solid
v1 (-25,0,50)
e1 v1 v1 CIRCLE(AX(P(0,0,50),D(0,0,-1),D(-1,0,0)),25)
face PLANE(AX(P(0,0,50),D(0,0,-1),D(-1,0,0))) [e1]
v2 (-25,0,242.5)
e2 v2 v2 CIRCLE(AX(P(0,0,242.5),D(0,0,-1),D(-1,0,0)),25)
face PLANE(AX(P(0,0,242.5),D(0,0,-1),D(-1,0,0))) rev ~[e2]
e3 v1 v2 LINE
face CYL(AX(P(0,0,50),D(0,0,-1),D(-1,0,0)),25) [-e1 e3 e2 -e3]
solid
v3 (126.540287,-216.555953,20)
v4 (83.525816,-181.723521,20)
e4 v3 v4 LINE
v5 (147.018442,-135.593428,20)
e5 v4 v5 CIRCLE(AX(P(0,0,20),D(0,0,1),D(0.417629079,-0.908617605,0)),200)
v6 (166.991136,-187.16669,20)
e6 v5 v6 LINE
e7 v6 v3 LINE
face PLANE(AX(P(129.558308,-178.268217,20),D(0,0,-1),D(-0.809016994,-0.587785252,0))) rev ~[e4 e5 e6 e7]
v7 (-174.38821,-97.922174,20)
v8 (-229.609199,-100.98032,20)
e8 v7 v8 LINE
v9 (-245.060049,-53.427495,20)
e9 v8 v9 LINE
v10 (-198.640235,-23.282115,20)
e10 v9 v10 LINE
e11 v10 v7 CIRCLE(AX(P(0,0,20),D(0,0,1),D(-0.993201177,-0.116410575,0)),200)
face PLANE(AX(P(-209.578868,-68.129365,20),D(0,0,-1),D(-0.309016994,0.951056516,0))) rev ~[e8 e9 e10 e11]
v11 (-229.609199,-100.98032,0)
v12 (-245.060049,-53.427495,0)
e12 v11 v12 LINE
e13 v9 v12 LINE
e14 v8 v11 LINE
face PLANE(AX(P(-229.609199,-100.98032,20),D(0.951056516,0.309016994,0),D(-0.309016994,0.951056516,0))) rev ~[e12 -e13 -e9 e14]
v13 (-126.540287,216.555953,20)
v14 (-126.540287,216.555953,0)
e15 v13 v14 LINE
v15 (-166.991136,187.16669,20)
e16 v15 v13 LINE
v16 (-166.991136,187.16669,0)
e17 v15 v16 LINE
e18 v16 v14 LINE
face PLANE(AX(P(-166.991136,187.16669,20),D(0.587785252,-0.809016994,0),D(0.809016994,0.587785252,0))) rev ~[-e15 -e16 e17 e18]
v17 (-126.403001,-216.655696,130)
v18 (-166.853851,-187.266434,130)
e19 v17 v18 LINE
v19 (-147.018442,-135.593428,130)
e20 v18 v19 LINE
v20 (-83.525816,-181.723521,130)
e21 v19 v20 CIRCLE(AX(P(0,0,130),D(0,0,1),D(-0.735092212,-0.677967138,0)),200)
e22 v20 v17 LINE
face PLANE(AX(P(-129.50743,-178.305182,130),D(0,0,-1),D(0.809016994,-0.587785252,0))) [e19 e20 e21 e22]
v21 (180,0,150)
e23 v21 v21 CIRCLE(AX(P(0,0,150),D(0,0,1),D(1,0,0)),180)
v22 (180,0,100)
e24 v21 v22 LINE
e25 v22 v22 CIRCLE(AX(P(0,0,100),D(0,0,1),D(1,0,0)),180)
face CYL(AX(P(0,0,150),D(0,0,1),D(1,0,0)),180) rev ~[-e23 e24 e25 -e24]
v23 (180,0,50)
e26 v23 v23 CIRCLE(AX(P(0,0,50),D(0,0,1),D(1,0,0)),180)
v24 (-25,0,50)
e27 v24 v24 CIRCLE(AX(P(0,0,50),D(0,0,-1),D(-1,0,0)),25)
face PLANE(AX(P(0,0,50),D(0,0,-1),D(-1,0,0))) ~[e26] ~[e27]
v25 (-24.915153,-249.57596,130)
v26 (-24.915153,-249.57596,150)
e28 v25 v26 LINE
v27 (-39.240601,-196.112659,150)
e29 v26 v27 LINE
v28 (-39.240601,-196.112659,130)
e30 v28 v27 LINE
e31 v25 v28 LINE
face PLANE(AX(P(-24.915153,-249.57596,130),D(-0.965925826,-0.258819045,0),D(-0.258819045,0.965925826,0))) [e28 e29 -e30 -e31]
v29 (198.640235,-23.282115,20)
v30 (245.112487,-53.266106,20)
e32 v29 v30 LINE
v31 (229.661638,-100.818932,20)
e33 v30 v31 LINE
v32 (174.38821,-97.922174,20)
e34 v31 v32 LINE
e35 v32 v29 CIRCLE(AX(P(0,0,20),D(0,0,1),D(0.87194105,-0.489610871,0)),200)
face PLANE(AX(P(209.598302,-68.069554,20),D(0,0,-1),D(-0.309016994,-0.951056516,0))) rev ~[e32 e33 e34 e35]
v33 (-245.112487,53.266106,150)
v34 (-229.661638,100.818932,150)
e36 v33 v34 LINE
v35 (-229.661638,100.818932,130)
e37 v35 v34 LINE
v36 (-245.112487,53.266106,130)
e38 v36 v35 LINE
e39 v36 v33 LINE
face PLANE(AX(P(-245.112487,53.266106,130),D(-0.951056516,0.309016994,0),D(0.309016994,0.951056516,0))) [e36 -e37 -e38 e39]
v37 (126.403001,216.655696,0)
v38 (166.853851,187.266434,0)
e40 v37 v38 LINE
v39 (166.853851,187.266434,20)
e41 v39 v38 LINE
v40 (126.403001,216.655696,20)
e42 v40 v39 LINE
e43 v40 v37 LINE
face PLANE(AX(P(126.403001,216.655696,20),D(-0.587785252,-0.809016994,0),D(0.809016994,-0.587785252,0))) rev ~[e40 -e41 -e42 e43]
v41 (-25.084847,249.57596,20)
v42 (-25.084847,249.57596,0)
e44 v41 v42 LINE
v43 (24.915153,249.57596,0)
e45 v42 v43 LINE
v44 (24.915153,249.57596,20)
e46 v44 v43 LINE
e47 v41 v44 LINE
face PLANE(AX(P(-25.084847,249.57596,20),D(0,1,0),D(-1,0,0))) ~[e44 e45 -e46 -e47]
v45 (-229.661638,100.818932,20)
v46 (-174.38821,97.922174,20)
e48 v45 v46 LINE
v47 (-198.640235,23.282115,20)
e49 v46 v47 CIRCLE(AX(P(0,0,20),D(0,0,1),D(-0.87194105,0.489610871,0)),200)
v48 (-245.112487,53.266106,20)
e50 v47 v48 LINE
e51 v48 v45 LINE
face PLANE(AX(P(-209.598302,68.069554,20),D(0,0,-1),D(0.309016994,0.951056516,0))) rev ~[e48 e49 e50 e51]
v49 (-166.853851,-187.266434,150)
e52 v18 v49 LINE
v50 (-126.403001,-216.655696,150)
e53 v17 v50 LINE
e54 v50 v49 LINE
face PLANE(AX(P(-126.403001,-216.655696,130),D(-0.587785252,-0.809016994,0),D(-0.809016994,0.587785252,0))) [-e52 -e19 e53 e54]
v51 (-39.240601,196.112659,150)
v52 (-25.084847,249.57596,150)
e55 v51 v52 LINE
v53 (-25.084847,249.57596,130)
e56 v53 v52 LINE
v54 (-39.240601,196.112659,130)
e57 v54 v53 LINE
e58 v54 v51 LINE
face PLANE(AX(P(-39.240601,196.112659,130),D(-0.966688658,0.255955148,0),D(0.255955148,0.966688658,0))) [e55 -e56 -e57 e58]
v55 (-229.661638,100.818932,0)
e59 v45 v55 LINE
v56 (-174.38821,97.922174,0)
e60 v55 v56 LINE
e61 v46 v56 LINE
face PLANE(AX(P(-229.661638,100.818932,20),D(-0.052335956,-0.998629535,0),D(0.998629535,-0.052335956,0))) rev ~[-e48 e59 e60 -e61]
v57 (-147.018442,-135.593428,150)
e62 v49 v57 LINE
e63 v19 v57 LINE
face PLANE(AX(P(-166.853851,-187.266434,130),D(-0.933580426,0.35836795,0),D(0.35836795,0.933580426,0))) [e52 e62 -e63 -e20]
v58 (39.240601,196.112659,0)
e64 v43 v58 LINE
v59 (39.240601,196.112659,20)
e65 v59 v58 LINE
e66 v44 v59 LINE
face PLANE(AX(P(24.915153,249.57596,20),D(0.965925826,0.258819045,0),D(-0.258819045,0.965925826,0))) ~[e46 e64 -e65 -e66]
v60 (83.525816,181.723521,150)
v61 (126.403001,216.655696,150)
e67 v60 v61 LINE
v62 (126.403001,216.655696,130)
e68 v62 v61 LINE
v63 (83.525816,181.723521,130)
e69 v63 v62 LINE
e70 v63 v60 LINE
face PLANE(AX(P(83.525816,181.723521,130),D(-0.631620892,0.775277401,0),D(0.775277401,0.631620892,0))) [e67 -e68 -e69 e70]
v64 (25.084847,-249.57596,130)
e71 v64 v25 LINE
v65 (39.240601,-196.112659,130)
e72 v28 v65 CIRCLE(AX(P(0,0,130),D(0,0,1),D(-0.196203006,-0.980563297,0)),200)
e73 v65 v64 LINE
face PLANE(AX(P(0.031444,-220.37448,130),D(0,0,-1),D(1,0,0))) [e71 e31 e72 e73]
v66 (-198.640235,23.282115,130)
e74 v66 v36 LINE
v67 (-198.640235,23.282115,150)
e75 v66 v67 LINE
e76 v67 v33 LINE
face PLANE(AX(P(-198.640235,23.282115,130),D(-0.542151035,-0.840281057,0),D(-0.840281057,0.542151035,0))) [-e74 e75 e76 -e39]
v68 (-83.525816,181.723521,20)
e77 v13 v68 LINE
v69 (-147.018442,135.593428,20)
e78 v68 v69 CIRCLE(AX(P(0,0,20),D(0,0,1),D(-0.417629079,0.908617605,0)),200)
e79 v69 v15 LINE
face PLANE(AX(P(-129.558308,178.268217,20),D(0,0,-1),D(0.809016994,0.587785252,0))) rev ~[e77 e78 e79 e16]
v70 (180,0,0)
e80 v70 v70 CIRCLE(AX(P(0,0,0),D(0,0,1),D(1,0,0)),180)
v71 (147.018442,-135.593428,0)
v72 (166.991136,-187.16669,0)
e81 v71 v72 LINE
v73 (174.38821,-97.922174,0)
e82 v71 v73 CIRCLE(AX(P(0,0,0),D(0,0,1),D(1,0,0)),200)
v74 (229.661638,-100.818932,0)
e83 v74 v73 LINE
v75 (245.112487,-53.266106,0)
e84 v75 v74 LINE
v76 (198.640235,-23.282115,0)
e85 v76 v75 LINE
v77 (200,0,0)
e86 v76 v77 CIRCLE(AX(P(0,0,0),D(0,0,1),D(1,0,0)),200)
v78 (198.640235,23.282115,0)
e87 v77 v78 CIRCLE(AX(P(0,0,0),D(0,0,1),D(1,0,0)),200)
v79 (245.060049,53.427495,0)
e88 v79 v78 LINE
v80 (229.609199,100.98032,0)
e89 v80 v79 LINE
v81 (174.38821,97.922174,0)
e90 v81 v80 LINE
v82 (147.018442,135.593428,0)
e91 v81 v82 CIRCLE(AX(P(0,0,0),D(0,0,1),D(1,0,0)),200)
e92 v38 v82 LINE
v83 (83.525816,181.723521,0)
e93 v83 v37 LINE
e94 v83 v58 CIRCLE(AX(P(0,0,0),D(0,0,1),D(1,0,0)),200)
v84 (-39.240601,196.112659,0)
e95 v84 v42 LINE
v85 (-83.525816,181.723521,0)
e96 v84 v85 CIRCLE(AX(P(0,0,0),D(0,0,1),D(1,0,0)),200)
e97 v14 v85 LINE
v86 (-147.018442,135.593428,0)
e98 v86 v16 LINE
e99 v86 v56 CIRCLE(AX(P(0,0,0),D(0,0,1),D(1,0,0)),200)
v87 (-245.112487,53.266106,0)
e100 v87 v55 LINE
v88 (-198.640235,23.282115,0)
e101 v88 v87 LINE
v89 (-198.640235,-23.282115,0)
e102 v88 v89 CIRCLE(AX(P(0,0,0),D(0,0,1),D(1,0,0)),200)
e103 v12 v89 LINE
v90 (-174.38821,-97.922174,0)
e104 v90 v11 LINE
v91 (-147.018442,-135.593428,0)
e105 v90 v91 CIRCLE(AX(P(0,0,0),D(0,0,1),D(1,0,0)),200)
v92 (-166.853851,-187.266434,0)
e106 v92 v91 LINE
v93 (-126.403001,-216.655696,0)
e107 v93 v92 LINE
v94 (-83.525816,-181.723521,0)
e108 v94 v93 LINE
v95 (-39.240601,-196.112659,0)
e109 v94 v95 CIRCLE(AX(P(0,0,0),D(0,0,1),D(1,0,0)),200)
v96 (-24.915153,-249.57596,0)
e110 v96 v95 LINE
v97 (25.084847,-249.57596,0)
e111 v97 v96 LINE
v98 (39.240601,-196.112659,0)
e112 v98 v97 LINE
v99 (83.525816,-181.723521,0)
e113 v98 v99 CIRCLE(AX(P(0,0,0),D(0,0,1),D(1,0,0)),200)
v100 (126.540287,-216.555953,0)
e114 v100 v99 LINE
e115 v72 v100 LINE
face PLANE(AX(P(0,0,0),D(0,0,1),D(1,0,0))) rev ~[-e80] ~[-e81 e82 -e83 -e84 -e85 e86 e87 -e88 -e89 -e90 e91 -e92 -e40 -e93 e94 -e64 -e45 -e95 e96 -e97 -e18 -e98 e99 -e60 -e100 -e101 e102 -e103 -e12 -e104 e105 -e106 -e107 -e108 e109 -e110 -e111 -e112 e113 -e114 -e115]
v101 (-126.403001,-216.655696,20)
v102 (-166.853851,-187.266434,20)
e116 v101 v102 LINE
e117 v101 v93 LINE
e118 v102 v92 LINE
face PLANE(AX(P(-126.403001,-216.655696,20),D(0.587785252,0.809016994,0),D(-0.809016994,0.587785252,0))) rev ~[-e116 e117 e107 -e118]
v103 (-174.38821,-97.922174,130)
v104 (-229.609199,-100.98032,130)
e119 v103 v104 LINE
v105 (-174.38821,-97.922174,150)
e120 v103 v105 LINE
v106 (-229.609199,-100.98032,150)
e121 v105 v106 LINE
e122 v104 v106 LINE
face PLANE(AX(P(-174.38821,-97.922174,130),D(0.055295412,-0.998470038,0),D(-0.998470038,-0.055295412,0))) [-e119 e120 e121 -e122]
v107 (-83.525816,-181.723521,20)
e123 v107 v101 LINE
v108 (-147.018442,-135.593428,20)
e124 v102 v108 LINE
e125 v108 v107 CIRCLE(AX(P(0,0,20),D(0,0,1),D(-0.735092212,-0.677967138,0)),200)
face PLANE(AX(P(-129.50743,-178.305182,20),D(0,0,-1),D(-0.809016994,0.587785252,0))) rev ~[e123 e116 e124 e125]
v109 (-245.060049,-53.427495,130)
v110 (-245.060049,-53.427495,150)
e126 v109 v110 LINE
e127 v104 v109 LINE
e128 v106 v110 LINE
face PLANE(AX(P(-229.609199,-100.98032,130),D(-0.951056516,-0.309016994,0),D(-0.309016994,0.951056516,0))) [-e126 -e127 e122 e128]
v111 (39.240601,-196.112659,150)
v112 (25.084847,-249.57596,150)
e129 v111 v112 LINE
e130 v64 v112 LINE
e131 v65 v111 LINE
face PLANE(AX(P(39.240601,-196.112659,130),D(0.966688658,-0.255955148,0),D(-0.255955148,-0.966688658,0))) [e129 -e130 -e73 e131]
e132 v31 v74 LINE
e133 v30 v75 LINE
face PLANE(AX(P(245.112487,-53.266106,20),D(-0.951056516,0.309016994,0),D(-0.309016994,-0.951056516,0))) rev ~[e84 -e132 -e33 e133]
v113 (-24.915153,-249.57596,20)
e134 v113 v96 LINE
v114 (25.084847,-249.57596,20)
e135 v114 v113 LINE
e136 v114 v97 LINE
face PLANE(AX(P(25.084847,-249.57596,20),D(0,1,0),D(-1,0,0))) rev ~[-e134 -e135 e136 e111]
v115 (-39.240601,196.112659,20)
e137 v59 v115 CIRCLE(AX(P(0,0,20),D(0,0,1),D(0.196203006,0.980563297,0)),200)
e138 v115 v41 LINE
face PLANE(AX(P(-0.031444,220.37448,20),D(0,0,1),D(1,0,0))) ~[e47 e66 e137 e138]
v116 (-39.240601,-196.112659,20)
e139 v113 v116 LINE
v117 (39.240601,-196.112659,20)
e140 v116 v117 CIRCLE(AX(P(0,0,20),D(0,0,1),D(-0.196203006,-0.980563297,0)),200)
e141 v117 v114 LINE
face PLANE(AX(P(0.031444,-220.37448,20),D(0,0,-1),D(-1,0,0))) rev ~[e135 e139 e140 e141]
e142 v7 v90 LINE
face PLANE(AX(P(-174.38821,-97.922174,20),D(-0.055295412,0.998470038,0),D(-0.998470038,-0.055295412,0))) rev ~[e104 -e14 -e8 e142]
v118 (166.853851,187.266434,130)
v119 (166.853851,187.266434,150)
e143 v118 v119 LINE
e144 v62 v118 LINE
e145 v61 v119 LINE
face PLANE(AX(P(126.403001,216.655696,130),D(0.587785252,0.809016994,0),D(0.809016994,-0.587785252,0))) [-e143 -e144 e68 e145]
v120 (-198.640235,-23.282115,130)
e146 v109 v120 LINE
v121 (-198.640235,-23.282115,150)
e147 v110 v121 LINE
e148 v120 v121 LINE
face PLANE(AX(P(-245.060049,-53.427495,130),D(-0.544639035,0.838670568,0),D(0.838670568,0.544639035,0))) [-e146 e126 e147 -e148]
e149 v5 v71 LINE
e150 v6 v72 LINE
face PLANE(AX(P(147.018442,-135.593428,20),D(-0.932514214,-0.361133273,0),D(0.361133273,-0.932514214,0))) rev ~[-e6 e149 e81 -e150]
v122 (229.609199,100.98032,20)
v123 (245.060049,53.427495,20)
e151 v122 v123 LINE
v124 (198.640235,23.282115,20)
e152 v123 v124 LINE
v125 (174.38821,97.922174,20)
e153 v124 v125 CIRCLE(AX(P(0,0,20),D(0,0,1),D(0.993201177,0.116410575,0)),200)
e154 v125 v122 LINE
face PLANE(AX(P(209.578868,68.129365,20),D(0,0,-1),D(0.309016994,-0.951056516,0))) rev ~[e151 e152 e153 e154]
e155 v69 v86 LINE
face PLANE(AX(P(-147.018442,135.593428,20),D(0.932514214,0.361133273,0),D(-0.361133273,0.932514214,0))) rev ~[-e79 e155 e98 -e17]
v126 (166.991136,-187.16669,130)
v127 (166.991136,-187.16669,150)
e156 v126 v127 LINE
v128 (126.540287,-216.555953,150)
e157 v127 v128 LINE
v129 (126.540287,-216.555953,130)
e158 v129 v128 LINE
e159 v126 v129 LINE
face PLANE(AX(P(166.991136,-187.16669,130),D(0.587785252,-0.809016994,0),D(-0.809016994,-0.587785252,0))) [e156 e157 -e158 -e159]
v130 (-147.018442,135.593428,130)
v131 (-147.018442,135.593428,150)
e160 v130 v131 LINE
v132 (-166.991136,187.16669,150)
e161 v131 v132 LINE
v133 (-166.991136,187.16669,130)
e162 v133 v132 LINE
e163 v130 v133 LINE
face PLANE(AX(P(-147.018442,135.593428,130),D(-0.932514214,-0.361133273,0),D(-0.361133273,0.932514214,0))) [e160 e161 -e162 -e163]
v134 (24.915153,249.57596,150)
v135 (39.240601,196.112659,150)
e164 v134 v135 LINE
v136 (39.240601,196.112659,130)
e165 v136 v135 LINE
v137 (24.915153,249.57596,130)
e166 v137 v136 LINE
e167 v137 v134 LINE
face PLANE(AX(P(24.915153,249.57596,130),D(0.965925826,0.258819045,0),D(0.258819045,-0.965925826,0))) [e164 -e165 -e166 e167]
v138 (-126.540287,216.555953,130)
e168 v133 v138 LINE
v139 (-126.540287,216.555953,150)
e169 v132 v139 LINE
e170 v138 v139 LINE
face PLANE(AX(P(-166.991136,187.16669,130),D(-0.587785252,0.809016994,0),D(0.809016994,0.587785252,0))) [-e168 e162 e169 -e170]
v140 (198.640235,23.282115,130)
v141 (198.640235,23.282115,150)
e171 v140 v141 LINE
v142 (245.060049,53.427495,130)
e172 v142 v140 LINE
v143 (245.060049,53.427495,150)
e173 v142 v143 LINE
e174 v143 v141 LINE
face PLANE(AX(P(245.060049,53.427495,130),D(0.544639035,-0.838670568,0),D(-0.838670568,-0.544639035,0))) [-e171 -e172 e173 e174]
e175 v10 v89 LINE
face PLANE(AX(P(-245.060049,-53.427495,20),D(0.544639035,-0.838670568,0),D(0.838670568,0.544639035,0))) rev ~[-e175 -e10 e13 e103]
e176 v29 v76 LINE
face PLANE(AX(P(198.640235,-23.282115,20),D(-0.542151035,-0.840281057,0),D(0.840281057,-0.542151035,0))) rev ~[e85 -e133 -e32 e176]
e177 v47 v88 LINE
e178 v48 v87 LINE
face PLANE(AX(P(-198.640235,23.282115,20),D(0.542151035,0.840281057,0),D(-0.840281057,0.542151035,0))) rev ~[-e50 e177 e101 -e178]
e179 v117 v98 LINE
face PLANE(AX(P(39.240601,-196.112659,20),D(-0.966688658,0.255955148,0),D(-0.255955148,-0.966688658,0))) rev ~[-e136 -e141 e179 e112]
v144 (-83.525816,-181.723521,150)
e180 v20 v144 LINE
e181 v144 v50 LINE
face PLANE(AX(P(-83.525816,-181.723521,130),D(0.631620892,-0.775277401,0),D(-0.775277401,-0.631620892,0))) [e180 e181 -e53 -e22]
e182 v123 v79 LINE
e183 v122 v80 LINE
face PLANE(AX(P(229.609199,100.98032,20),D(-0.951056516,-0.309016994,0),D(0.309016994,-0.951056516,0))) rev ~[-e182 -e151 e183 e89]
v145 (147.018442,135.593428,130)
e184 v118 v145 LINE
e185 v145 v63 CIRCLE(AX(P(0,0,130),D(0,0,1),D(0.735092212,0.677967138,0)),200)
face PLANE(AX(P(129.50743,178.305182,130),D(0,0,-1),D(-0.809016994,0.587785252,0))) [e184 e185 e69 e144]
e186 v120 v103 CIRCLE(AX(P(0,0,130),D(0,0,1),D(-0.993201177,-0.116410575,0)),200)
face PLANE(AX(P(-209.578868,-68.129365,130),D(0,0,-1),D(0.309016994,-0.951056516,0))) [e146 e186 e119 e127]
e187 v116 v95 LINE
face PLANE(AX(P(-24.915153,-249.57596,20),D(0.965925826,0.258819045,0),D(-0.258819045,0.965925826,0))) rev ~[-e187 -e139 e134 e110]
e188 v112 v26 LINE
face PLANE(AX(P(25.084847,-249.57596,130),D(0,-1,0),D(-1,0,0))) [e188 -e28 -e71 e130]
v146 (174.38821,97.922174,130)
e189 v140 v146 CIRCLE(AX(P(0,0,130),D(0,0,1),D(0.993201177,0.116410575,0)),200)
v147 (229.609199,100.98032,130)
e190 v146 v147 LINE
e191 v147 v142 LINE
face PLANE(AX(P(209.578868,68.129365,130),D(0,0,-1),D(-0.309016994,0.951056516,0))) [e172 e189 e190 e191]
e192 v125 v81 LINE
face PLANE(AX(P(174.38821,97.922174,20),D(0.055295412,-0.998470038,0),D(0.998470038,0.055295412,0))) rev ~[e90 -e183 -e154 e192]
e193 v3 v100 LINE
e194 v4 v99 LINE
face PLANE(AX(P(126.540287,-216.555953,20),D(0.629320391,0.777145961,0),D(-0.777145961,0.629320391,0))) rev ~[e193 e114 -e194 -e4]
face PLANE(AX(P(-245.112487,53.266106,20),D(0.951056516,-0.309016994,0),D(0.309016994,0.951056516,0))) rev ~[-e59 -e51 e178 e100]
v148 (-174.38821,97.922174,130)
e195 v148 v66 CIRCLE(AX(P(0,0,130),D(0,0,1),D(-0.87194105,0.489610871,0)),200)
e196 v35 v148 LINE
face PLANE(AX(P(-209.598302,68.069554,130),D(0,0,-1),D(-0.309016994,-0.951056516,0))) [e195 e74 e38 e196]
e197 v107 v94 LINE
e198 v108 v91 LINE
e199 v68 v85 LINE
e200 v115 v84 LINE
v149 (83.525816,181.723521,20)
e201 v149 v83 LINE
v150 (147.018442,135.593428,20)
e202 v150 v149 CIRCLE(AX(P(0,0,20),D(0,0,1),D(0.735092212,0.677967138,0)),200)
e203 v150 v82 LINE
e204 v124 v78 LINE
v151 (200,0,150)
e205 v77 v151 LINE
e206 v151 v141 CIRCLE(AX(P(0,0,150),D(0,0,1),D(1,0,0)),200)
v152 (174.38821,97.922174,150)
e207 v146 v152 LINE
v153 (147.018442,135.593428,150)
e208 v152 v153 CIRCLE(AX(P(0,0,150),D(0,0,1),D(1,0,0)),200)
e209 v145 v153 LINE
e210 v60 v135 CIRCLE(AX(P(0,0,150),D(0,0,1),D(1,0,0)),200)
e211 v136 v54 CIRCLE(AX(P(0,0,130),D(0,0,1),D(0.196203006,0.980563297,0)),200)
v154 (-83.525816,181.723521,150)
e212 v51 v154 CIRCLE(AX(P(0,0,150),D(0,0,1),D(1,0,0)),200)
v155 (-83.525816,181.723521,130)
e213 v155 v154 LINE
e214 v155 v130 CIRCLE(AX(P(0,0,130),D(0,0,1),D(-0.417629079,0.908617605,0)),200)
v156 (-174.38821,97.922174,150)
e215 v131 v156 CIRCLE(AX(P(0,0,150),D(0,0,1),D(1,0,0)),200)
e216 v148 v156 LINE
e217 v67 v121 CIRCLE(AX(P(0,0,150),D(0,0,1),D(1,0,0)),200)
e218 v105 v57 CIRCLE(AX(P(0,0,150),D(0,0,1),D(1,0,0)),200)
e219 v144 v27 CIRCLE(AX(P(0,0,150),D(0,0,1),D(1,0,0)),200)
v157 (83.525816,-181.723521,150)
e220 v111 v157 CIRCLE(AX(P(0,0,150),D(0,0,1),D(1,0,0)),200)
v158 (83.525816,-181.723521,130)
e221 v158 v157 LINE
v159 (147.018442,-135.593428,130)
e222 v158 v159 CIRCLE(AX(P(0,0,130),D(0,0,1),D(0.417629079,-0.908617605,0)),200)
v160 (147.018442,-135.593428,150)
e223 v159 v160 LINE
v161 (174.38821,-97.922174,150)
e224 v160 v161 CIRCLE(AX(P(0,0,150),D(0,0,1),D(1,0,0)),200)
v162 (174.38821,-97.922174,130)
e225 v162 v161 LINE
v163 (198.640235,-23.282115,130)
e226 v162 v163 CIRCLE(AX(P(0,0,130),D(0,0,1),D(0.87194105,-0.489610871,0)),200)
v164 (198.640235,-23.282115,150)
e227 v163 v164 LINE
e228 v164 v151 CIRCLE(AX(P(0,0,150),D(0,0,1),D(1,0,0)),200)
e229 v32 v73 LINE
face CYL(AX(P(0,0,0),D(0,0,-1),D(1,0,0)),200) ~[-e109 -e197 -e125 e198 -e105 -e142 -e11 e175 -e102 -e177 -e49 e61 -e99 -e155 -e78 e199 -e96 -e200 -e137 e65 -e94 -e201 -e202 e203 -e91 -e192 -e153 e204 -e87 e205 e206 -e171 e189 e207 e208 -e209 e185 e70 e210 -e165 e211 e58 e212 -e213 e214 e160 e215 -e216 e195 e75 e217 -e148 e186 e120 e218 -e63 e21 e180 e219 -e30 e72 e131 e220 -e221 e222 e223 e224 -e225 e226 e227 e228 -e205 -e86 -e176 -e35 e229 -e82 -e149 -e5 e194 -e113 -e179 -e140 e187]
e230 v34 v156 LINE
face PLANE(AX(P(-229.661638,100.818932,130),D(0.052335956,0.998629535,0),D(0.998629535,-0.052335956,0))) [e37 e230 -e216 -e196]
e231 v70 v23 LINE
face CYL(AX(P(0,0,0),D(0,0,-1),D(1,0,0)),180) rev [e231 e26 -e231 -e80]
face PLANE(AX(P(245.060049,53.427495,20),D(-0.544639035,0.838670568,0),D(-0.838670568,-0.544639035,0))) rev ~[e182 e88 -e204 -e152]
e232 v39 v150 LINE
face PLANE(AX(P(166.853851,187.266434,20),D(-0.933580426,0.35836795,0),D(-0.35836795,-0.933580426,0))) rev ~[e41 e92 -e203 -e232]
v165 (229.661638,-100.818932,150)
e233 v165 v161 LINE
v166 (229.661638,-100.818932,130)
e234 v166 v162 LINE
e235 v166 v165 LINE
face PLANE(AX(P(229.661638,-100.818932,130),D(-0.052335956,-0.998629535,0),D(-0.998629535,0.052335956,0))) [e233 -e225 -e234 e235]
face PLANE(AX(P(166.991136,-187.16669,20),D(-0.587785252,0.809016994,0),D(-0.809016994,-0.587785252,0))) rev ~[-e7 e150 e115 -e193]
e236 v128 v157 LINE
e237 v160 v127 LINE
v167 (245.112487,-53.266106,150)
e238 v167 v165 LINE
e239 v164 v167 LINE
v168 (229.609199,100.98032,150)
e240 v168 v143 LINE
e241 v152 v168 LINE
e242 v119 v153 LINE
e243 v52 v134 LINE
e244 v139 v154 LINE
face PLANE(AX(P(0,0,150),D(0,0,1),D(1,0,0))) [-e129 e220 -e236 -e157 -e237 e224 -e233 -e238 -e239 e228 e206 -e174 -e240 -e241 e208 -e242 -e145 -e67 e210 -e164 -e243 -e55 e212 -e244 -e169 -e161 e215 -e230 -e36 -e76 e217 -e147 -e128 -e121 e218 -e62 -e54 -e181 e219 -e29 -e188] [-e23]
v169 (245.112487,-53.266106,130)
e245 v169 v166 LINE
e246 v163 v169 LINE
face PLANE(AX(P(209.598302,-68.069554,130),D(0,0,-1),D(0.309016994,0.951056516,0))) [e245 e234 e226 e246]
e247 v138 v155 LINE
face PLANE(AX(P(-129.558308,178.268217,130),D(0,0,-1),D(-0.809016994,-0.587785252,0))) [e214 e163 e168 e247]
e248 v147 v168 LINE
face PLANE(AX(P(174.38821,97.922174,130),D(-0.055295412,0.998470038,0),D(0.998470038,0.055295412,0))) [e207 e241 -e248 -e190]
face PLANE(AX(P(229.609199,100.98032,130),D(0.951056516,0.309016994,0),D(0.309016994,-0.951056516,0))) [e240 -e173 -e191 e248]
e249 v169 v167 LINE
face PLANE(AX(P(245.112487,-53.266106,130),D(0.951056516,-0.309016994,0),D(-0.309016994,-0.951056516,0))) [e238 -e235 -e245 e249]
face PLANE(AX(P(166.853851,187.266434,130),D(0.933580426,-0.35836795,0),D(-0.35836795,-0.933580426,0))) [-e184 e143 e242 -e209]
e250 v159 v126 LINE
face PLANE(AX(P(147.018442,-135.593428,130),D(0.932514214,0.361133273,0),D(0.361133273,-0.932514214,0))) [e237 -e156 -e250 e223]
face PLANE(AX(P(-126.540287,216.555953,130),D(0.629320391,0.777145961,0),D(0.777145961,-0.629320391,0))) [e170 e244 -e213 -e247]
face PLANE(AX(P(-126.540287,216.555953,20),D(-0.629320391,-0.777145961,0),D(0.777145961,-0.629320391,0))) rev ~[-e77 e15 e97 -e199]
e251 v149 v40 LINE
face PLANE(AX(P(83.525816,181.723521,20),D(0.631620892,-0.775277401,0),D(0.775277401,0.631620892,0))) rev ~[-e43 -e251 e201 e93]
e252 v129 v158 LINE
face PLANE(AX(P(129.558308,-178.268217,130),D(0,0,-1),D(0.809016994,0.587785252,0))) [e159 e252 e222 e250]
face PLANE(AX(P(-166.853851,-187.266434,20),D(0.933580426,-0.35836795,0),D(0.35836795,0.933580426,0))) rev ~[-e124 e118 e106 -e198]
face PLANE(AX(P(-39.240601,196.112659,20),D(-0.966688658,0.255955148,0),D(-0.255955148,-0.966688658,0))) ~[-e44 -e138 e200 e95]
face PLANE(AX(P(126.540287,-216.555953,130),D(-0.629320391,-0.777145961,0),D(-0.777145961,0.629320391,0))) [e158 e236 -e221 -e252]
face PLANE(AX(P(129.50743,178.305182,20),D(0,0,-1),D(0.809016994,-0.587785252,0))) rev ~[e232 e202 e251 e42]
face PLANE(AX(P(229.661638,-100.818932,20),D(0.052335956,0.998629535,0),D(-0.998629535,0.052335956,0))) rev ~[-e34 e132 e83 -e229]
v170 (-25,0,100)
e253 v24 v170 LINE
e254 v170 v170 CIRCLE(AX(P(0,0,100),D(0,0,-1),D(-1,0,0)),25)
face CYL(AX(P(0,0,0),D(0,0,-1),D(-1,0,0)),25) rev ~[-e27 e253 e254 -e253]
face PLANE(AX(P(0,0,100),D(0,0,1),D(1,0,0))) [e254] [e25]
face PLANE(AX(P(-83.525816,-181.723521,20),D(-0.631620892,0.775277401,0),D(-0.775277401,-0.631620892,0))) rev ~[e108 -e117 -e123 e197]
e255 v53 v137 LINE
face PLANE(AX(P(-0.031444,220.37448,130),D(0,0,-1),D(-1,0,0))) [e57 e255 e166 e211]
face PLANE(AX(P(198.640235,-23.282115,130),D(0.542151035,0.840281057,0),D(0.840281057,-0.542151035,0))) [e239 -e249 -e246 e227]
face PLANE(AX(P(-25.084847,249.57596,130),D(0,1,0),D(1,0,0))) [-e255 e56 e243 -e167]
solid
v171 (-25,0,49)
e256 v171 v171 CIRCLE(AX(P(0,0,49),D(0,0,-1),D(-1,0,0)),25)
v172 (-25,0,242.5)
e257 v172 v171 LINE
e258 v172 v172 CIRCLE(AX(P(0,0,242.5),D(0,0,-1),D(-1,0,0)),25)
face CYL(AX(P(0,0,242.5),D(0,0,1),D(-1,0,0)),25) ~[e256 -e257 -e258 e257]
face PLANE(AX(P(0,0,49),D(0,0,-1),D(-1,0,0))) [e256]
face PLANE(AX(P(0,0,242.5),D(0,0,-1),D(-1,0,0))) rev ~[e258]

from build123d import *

# Parameters (mm, degrees)
SKETCH2_R                = 200
BOSS_EXTRUDE1_DEPTH      = 150
BOSS_EXTRUDE2_START      = -20
BOSS_EXTRUDE2_DEPTH      = 20
CIRPATTERN1_COUNT        = 10
MIRROR1_START            = -20
MIRROR1_COPY_1_DEPTH     = 20
MIRROR1_COPY_2_DEPTH     = 20
MIRROR1_COPY_3_DEPTH     = 20
MIRROR1_COPY_4_DEPTH     = 20
MIRROR1_COPY_5_DEPTH     = 20
MIRROR1_COPY_6_DEPTH     = 20
MIRROR1_COPY_7_DEPTH     = 20
MIRROR1_COPY_8_DEPTH     = 20
MIRROR1_COPY_9_DEPTH     = 20
MIRROR1_COPY_10_DEPTH    = 20
SKETCH4_R                = 25
CUT_EXTRUDE1_DEPTH       = 381.615674099
SKETCH6_R                = 180
CUT_EXTRUDE2_DEPTH       = 50
BOSS_EXTRUDE4_DEPTH      = 1
BOSS_EXTRUDE4_DEPTH_BACK = 192.5
SKETCH7_2_R              = 25
SKETCH7_R                = 25
BOSS_EXTRUDE3_DEPTH      = 192.5


with BuildPart() as part:
    # Sketch2 → Boss-Extrude1 (new body)
    with BuildSketch(Plane.XY):
        Circle(SKETCH2_R)
    extrude(amount=BOSS_EXTRUDE1_DEPTH)

    # Sketch3 → Boss-Extrude2 (add)
    with BuildSketch(Plane.XY.offset(150).offset(BOSS_EXTRUDE2_START)):
        with BuildLine():
            Line((-25.084847023, 249.575960236), (24.915152977, 249.575960236))
            Line((24.915152977, 249.575960236), (39.240601235, 196.112659496))
            ThreePointArc((39.240601235, 196.112659496), (0, 200), (-39.240601235, 196.112659496))
            Line((-39.240601235, 196.112659496), (-25.084847023, 249.575960236))
        make_face()
    boss_extrude2 = extrude(amount=BOSS_EXTRUDE2_DEPTH)

    # CirPattern1: Boss-Extrude2 ×10 about axis
    cirpattern1_axis = Axis((0, 0, 150), (0, 0, 1))
    for i in range(1, CIRPATTERN1_COUNT):
        add(boss_extrude2.rotate(cirpattern1_axis, i * 360 / CIRPATTERN1_COUNT))

    # Mirror1 copy 1 sketch → Mirror1 copy 1 (add)
    with BuildSketch(Plane(origin=(0, 0, 0), x_dir=(0.8090169943749475, 0.5877852522924731, 0), z_dir=(0, 0, -1)).offset(MIRROR1_START)):
        with BuildLine():
            Line((-25.084847023, -249.575960236), (24.915152977, -249.575960236))
            Line((24.915152977, -249.575960236), (39.240601235, -196.112659496))
            ThreePointArc((39.240601235, -196.112659496), (0, -200), (-39.240601235, -196.112659496))
            Line((-39.240601235, -196.112659496), (-25.084847023, -249.575960236))
        make_face()
    extrude(amount=MIRROR1_COPY_1_DEPTH)

    # Mirror1 copy 2 sketch → Mirror1 copy 2 (add)
    with BuildSketch(Plane(origin=(0, 0, 0), x_dir=(0.30901699437494745, 0.9510565162951535, 0), z_dir=(0, 0, -1)).offset(MIRROR1_START)):
        with BuildLine():
            Line((-25.084847023, -249.575960236), (24.915152977, -249.575960236))
            Line((24.915152977, -249.575960236), (39.240601235, -196.112659496))
            ThreePointArc((39.240601235, -196.112659496), (0, -200), (-39.240601235, -196.112659496))
            Line((-39.240601235, -196.112659496), (-25.084847023, -249.575960236))
        make_face()
    extrude(amount=MIRROR1_COPY_2_DEPTH)

    # Mirror1 copy 3 sketch → Mirror1 copy 3 (add)
    with BuildSketch(Plane(origin=(0, 0, 0), x_dir=(-0.30901699437494734, 0.9510565162951536, 0), z_dir=(0, 0, -1)).offset(MIRROR1_START)):
        with BuildLine():
            Line((-25.084847023, -249.575960236), (24.915152977, -249.575960236))
            Line((24.915152977, -249.575960236), (39.240601235, -196.112659496))
            ThreePointArc((39.240601235, -196.112659496), (0, -200), (-39.240601235, -196.112659496))
            Line((-39.240601235, -196.112659496), (-25.084847023, -249.575960236))
        make_face()
    extrude(amount=MIRROR1_COPY_3_DEPTH)

    # Mirror1 copy 4 sketch → Mirror1 copy 4 (add)
    with BuildSketch(Plane(origin=(0, 0, 0), x_dir=(-0.8090169943749473, 0.5877852522924732, 0), z_dir=(0, 0, -1)).offset(MIRROR1_START)):
        with BuildLine():
            Line((-25.084847023, -249.575960236), (24.915152977, -249.575960236))
            Line((24.915152977, -249.575960236), (39.240601235, -196.112659496))
            ThreePointArc((39.240601235, -196.112659496), (0, -200), (-39.240601235, -196.112659496))
            Line((-39.240601235, -196.112659496), (-25.084847023, -249.575960236))
        make_face()
    extrude(amount=MIRROR1_COPY_4_DEPTH)

    # Mirror1 copy 5 sketch → Mirror1 copy 5 (add)
    with BuildSketch(Plane(origin=(0, 0, 0), x_dir=(-1, 0, 0), z_dir=(0, 0, -1)).offset(MIRROR1_START)):
        with BuildLine():
            Line((-25.084847023, -249.575960236), (24.915152977, -249.575960236))
            Line((24.915152977, -249.575960236), (39.240601235, -196.112659496))
            ThreePointArc((39.240601235, -196.112659496), (0, -200), (-39.240601235, -196.112659496))
            Line((-39.240601235, -196.112659496), (-25.084847023, -249.575960236))
        make_face()
    extrude(amount=MIRROR1_COPY_5_DEPTH)

    # Mirror1 copy 6 sketch → Mirror1 copy 6 (add)
    with BuildSketch(Plane(origin=(0, 0, 0), x_dir=(-0.8090169943749476, -0.587785252292473, 0), z_dir=(0, 0, -1)).offset(MIRROR1_START)):
        with BuildLine():
            Line((-25.084847023, -249.575960236), (24.915152977, -249.575960236))
            Line((24.915152977, -249.575960236), (39.240601235, -196.112659496))
            ThreePointArc((39.240601235, -196.112659496), (0, -200), (-39.240601235, -196.112659496))
            Line((-39.240601235, -196.112659496), (-25.084847023, -249.575960236))
        make_face()
    extrude(amount=MIRROR1_COPY_6_DEPTH)

    # Mirror1 copy 7 sketch → Mirror1 copy 7 (add)
    with BuildSketch(Plane(origin=(0, 0, 0), x_dir=(-0.30901699437494756, -0.9510565162951535, 0), z_dir=(0, 0, -1)).offset(MIRROR1_START)):
        with BuildLine():
            Line((-25.084847023, -249.575960236), (24.915152977, -249.575960236))
            Line((24.915152977, -249.575960236), (39.240601235, -196.112659496))
            ThreePointArc((39.240601235, -196.112659496), (0, -200), (-39.240601235, -196.112659496))
            Line((-39.240601235, -196.112659496), (-25.084847023, -249.575960236))
        make_face()
    extrude(amount=MIRROR1_COPY_7_DEPTH)

    # Mirror1 copy 8 sketch → Mirror1 copy 8 (add)
    with BuildSketch(Plane(origin=(0, 0, 0), x_dir=(0.30901699437494723, -0.9510565162951536, 0), z_dir=(0, 0, -1)).offset(MIRROR1_START)):
        with BuildLine():
            Line((-25.084847023, -249.575960236), (24.915152977, -249.575960236))
            Line((24.915152977, -249.575960236), (39.240601235, -196.112659496))
            ThreePointArc((39.240601235, -196.112659496), (0, -200), (-39.240601235, -196.112659496))
            Line((-39.240601235, -196.112659496), (-25.084847023, -249.575960236))
        make_face()
    extrude(amount=MIRROR1_COPY_8_DEPTH)

    # Mirror1 copy 9 sketch → Mirror1 copy 9 (add)
    with BuildSketch(Plane(origin=(0, 0, 0), x_dir=(0.8090169943749473, -0.5877852522924734, 0), z_dir=(0, 0, -1)).offset(MIRROR1_START)):
        with BuildLine():
            Line((-25.084847023, -249.575960236), (24.915152977, -249.575960236))
            Line((24.915152977, -249.575960236), (39.240601235, -196.112659496))
            ThreePointArc((39.240601235, -196.112659496), (0, -200), (-39.240601235, -196.112659496))
            Line((-39.240601235, -196.112659496), (-25.084847023, -249.575960236))
        make_face()
    extrude(amount=MIRROR1_COPY_9_DEPTH)

    # Mirror1 copy 10 sketch → Mirror1 copy 10 (add)
    with BuildSketch(Plane(origin=(0, 0, 0), x_dir=(1, 0, 0), z_dir=(0, 0, -1)).offset(MIRROR1_START)):
        with BuildLine():
            Line((-25.084847023, -249.575960236), (24.915152977, -249.575960236))
            Line((24.915152977, -249.575960236), (39.240601235, -196.112659496))
            ThreePointArc((39.240601235, -196.112659496), (0, -200), (-39.240601235, -196.112659496))
            Line((-39.240601235, -196.112659496), (-25.084847023, -249.575960236))
        make_face()
    extrude(amount=MIRROR1_COPY_10_DEPTH)

    # Sketch4 → Cut-Extrude1 (cut, through all)
    with BuildSketch(Plane(origin=(0, 0, 0), x_dir=(-1, 0, 0), z_dir=(0, 0, -1))):
        Circle(SKETCH4_R)
    extrude(amount=-CUT_EXTRUDE1_DEPTH, mode=Mode.SUBTRACT)

    # Sketch6 → Cut-Extrude2 (cut)
    with BuildSketch(Plane.XY.offset(150)):
        Circle(SKETCH6_R)
    cut_extrude2 = extrude(amount=-CUT_EXTRUDE2_DEPTH, mode=Mode.SUBTRACT)

    # Mirror2: Cut-Extrude2 across plane
    add(cut_extrude2.mirror(Plane.XY.offset(75)), mode=Mode.SUBTRACT)


with BuildPart() as body_2:
    # Sketch7<2> → Boss-Extrude4 (new, two sides: drawn at the far end of the back side and taken through both)
    with BuildSketch(Plane(origin=(0, 0, 50), x_dir=(-1, 0, 0), z_dir=(0, 0, -1)).offset(-BOSS_EXTRUDE4_DEPTH_BACK)):
        Circle(SKETCH7_2_R)
    extrude(amount=BOSS_EXTRUDE4_DEPTH + BOSS_EXTRUDE4_DEPTH_BACK)


with BuildPart() as body_3:
    # Sketch7 → Boss-Extrude3 (new body)
    with BuildSketch(Plane(origin=(0, 0, 50), x_dir=(-1, 0, 0), z_dir=(0, 0, -1))):
        Circle(SKETCH7_R)
    extrude(amount=-BOSS_EXTRUDE3_DEPTH)


solid = Compound([part.part, body_2.part, body_3.part])
